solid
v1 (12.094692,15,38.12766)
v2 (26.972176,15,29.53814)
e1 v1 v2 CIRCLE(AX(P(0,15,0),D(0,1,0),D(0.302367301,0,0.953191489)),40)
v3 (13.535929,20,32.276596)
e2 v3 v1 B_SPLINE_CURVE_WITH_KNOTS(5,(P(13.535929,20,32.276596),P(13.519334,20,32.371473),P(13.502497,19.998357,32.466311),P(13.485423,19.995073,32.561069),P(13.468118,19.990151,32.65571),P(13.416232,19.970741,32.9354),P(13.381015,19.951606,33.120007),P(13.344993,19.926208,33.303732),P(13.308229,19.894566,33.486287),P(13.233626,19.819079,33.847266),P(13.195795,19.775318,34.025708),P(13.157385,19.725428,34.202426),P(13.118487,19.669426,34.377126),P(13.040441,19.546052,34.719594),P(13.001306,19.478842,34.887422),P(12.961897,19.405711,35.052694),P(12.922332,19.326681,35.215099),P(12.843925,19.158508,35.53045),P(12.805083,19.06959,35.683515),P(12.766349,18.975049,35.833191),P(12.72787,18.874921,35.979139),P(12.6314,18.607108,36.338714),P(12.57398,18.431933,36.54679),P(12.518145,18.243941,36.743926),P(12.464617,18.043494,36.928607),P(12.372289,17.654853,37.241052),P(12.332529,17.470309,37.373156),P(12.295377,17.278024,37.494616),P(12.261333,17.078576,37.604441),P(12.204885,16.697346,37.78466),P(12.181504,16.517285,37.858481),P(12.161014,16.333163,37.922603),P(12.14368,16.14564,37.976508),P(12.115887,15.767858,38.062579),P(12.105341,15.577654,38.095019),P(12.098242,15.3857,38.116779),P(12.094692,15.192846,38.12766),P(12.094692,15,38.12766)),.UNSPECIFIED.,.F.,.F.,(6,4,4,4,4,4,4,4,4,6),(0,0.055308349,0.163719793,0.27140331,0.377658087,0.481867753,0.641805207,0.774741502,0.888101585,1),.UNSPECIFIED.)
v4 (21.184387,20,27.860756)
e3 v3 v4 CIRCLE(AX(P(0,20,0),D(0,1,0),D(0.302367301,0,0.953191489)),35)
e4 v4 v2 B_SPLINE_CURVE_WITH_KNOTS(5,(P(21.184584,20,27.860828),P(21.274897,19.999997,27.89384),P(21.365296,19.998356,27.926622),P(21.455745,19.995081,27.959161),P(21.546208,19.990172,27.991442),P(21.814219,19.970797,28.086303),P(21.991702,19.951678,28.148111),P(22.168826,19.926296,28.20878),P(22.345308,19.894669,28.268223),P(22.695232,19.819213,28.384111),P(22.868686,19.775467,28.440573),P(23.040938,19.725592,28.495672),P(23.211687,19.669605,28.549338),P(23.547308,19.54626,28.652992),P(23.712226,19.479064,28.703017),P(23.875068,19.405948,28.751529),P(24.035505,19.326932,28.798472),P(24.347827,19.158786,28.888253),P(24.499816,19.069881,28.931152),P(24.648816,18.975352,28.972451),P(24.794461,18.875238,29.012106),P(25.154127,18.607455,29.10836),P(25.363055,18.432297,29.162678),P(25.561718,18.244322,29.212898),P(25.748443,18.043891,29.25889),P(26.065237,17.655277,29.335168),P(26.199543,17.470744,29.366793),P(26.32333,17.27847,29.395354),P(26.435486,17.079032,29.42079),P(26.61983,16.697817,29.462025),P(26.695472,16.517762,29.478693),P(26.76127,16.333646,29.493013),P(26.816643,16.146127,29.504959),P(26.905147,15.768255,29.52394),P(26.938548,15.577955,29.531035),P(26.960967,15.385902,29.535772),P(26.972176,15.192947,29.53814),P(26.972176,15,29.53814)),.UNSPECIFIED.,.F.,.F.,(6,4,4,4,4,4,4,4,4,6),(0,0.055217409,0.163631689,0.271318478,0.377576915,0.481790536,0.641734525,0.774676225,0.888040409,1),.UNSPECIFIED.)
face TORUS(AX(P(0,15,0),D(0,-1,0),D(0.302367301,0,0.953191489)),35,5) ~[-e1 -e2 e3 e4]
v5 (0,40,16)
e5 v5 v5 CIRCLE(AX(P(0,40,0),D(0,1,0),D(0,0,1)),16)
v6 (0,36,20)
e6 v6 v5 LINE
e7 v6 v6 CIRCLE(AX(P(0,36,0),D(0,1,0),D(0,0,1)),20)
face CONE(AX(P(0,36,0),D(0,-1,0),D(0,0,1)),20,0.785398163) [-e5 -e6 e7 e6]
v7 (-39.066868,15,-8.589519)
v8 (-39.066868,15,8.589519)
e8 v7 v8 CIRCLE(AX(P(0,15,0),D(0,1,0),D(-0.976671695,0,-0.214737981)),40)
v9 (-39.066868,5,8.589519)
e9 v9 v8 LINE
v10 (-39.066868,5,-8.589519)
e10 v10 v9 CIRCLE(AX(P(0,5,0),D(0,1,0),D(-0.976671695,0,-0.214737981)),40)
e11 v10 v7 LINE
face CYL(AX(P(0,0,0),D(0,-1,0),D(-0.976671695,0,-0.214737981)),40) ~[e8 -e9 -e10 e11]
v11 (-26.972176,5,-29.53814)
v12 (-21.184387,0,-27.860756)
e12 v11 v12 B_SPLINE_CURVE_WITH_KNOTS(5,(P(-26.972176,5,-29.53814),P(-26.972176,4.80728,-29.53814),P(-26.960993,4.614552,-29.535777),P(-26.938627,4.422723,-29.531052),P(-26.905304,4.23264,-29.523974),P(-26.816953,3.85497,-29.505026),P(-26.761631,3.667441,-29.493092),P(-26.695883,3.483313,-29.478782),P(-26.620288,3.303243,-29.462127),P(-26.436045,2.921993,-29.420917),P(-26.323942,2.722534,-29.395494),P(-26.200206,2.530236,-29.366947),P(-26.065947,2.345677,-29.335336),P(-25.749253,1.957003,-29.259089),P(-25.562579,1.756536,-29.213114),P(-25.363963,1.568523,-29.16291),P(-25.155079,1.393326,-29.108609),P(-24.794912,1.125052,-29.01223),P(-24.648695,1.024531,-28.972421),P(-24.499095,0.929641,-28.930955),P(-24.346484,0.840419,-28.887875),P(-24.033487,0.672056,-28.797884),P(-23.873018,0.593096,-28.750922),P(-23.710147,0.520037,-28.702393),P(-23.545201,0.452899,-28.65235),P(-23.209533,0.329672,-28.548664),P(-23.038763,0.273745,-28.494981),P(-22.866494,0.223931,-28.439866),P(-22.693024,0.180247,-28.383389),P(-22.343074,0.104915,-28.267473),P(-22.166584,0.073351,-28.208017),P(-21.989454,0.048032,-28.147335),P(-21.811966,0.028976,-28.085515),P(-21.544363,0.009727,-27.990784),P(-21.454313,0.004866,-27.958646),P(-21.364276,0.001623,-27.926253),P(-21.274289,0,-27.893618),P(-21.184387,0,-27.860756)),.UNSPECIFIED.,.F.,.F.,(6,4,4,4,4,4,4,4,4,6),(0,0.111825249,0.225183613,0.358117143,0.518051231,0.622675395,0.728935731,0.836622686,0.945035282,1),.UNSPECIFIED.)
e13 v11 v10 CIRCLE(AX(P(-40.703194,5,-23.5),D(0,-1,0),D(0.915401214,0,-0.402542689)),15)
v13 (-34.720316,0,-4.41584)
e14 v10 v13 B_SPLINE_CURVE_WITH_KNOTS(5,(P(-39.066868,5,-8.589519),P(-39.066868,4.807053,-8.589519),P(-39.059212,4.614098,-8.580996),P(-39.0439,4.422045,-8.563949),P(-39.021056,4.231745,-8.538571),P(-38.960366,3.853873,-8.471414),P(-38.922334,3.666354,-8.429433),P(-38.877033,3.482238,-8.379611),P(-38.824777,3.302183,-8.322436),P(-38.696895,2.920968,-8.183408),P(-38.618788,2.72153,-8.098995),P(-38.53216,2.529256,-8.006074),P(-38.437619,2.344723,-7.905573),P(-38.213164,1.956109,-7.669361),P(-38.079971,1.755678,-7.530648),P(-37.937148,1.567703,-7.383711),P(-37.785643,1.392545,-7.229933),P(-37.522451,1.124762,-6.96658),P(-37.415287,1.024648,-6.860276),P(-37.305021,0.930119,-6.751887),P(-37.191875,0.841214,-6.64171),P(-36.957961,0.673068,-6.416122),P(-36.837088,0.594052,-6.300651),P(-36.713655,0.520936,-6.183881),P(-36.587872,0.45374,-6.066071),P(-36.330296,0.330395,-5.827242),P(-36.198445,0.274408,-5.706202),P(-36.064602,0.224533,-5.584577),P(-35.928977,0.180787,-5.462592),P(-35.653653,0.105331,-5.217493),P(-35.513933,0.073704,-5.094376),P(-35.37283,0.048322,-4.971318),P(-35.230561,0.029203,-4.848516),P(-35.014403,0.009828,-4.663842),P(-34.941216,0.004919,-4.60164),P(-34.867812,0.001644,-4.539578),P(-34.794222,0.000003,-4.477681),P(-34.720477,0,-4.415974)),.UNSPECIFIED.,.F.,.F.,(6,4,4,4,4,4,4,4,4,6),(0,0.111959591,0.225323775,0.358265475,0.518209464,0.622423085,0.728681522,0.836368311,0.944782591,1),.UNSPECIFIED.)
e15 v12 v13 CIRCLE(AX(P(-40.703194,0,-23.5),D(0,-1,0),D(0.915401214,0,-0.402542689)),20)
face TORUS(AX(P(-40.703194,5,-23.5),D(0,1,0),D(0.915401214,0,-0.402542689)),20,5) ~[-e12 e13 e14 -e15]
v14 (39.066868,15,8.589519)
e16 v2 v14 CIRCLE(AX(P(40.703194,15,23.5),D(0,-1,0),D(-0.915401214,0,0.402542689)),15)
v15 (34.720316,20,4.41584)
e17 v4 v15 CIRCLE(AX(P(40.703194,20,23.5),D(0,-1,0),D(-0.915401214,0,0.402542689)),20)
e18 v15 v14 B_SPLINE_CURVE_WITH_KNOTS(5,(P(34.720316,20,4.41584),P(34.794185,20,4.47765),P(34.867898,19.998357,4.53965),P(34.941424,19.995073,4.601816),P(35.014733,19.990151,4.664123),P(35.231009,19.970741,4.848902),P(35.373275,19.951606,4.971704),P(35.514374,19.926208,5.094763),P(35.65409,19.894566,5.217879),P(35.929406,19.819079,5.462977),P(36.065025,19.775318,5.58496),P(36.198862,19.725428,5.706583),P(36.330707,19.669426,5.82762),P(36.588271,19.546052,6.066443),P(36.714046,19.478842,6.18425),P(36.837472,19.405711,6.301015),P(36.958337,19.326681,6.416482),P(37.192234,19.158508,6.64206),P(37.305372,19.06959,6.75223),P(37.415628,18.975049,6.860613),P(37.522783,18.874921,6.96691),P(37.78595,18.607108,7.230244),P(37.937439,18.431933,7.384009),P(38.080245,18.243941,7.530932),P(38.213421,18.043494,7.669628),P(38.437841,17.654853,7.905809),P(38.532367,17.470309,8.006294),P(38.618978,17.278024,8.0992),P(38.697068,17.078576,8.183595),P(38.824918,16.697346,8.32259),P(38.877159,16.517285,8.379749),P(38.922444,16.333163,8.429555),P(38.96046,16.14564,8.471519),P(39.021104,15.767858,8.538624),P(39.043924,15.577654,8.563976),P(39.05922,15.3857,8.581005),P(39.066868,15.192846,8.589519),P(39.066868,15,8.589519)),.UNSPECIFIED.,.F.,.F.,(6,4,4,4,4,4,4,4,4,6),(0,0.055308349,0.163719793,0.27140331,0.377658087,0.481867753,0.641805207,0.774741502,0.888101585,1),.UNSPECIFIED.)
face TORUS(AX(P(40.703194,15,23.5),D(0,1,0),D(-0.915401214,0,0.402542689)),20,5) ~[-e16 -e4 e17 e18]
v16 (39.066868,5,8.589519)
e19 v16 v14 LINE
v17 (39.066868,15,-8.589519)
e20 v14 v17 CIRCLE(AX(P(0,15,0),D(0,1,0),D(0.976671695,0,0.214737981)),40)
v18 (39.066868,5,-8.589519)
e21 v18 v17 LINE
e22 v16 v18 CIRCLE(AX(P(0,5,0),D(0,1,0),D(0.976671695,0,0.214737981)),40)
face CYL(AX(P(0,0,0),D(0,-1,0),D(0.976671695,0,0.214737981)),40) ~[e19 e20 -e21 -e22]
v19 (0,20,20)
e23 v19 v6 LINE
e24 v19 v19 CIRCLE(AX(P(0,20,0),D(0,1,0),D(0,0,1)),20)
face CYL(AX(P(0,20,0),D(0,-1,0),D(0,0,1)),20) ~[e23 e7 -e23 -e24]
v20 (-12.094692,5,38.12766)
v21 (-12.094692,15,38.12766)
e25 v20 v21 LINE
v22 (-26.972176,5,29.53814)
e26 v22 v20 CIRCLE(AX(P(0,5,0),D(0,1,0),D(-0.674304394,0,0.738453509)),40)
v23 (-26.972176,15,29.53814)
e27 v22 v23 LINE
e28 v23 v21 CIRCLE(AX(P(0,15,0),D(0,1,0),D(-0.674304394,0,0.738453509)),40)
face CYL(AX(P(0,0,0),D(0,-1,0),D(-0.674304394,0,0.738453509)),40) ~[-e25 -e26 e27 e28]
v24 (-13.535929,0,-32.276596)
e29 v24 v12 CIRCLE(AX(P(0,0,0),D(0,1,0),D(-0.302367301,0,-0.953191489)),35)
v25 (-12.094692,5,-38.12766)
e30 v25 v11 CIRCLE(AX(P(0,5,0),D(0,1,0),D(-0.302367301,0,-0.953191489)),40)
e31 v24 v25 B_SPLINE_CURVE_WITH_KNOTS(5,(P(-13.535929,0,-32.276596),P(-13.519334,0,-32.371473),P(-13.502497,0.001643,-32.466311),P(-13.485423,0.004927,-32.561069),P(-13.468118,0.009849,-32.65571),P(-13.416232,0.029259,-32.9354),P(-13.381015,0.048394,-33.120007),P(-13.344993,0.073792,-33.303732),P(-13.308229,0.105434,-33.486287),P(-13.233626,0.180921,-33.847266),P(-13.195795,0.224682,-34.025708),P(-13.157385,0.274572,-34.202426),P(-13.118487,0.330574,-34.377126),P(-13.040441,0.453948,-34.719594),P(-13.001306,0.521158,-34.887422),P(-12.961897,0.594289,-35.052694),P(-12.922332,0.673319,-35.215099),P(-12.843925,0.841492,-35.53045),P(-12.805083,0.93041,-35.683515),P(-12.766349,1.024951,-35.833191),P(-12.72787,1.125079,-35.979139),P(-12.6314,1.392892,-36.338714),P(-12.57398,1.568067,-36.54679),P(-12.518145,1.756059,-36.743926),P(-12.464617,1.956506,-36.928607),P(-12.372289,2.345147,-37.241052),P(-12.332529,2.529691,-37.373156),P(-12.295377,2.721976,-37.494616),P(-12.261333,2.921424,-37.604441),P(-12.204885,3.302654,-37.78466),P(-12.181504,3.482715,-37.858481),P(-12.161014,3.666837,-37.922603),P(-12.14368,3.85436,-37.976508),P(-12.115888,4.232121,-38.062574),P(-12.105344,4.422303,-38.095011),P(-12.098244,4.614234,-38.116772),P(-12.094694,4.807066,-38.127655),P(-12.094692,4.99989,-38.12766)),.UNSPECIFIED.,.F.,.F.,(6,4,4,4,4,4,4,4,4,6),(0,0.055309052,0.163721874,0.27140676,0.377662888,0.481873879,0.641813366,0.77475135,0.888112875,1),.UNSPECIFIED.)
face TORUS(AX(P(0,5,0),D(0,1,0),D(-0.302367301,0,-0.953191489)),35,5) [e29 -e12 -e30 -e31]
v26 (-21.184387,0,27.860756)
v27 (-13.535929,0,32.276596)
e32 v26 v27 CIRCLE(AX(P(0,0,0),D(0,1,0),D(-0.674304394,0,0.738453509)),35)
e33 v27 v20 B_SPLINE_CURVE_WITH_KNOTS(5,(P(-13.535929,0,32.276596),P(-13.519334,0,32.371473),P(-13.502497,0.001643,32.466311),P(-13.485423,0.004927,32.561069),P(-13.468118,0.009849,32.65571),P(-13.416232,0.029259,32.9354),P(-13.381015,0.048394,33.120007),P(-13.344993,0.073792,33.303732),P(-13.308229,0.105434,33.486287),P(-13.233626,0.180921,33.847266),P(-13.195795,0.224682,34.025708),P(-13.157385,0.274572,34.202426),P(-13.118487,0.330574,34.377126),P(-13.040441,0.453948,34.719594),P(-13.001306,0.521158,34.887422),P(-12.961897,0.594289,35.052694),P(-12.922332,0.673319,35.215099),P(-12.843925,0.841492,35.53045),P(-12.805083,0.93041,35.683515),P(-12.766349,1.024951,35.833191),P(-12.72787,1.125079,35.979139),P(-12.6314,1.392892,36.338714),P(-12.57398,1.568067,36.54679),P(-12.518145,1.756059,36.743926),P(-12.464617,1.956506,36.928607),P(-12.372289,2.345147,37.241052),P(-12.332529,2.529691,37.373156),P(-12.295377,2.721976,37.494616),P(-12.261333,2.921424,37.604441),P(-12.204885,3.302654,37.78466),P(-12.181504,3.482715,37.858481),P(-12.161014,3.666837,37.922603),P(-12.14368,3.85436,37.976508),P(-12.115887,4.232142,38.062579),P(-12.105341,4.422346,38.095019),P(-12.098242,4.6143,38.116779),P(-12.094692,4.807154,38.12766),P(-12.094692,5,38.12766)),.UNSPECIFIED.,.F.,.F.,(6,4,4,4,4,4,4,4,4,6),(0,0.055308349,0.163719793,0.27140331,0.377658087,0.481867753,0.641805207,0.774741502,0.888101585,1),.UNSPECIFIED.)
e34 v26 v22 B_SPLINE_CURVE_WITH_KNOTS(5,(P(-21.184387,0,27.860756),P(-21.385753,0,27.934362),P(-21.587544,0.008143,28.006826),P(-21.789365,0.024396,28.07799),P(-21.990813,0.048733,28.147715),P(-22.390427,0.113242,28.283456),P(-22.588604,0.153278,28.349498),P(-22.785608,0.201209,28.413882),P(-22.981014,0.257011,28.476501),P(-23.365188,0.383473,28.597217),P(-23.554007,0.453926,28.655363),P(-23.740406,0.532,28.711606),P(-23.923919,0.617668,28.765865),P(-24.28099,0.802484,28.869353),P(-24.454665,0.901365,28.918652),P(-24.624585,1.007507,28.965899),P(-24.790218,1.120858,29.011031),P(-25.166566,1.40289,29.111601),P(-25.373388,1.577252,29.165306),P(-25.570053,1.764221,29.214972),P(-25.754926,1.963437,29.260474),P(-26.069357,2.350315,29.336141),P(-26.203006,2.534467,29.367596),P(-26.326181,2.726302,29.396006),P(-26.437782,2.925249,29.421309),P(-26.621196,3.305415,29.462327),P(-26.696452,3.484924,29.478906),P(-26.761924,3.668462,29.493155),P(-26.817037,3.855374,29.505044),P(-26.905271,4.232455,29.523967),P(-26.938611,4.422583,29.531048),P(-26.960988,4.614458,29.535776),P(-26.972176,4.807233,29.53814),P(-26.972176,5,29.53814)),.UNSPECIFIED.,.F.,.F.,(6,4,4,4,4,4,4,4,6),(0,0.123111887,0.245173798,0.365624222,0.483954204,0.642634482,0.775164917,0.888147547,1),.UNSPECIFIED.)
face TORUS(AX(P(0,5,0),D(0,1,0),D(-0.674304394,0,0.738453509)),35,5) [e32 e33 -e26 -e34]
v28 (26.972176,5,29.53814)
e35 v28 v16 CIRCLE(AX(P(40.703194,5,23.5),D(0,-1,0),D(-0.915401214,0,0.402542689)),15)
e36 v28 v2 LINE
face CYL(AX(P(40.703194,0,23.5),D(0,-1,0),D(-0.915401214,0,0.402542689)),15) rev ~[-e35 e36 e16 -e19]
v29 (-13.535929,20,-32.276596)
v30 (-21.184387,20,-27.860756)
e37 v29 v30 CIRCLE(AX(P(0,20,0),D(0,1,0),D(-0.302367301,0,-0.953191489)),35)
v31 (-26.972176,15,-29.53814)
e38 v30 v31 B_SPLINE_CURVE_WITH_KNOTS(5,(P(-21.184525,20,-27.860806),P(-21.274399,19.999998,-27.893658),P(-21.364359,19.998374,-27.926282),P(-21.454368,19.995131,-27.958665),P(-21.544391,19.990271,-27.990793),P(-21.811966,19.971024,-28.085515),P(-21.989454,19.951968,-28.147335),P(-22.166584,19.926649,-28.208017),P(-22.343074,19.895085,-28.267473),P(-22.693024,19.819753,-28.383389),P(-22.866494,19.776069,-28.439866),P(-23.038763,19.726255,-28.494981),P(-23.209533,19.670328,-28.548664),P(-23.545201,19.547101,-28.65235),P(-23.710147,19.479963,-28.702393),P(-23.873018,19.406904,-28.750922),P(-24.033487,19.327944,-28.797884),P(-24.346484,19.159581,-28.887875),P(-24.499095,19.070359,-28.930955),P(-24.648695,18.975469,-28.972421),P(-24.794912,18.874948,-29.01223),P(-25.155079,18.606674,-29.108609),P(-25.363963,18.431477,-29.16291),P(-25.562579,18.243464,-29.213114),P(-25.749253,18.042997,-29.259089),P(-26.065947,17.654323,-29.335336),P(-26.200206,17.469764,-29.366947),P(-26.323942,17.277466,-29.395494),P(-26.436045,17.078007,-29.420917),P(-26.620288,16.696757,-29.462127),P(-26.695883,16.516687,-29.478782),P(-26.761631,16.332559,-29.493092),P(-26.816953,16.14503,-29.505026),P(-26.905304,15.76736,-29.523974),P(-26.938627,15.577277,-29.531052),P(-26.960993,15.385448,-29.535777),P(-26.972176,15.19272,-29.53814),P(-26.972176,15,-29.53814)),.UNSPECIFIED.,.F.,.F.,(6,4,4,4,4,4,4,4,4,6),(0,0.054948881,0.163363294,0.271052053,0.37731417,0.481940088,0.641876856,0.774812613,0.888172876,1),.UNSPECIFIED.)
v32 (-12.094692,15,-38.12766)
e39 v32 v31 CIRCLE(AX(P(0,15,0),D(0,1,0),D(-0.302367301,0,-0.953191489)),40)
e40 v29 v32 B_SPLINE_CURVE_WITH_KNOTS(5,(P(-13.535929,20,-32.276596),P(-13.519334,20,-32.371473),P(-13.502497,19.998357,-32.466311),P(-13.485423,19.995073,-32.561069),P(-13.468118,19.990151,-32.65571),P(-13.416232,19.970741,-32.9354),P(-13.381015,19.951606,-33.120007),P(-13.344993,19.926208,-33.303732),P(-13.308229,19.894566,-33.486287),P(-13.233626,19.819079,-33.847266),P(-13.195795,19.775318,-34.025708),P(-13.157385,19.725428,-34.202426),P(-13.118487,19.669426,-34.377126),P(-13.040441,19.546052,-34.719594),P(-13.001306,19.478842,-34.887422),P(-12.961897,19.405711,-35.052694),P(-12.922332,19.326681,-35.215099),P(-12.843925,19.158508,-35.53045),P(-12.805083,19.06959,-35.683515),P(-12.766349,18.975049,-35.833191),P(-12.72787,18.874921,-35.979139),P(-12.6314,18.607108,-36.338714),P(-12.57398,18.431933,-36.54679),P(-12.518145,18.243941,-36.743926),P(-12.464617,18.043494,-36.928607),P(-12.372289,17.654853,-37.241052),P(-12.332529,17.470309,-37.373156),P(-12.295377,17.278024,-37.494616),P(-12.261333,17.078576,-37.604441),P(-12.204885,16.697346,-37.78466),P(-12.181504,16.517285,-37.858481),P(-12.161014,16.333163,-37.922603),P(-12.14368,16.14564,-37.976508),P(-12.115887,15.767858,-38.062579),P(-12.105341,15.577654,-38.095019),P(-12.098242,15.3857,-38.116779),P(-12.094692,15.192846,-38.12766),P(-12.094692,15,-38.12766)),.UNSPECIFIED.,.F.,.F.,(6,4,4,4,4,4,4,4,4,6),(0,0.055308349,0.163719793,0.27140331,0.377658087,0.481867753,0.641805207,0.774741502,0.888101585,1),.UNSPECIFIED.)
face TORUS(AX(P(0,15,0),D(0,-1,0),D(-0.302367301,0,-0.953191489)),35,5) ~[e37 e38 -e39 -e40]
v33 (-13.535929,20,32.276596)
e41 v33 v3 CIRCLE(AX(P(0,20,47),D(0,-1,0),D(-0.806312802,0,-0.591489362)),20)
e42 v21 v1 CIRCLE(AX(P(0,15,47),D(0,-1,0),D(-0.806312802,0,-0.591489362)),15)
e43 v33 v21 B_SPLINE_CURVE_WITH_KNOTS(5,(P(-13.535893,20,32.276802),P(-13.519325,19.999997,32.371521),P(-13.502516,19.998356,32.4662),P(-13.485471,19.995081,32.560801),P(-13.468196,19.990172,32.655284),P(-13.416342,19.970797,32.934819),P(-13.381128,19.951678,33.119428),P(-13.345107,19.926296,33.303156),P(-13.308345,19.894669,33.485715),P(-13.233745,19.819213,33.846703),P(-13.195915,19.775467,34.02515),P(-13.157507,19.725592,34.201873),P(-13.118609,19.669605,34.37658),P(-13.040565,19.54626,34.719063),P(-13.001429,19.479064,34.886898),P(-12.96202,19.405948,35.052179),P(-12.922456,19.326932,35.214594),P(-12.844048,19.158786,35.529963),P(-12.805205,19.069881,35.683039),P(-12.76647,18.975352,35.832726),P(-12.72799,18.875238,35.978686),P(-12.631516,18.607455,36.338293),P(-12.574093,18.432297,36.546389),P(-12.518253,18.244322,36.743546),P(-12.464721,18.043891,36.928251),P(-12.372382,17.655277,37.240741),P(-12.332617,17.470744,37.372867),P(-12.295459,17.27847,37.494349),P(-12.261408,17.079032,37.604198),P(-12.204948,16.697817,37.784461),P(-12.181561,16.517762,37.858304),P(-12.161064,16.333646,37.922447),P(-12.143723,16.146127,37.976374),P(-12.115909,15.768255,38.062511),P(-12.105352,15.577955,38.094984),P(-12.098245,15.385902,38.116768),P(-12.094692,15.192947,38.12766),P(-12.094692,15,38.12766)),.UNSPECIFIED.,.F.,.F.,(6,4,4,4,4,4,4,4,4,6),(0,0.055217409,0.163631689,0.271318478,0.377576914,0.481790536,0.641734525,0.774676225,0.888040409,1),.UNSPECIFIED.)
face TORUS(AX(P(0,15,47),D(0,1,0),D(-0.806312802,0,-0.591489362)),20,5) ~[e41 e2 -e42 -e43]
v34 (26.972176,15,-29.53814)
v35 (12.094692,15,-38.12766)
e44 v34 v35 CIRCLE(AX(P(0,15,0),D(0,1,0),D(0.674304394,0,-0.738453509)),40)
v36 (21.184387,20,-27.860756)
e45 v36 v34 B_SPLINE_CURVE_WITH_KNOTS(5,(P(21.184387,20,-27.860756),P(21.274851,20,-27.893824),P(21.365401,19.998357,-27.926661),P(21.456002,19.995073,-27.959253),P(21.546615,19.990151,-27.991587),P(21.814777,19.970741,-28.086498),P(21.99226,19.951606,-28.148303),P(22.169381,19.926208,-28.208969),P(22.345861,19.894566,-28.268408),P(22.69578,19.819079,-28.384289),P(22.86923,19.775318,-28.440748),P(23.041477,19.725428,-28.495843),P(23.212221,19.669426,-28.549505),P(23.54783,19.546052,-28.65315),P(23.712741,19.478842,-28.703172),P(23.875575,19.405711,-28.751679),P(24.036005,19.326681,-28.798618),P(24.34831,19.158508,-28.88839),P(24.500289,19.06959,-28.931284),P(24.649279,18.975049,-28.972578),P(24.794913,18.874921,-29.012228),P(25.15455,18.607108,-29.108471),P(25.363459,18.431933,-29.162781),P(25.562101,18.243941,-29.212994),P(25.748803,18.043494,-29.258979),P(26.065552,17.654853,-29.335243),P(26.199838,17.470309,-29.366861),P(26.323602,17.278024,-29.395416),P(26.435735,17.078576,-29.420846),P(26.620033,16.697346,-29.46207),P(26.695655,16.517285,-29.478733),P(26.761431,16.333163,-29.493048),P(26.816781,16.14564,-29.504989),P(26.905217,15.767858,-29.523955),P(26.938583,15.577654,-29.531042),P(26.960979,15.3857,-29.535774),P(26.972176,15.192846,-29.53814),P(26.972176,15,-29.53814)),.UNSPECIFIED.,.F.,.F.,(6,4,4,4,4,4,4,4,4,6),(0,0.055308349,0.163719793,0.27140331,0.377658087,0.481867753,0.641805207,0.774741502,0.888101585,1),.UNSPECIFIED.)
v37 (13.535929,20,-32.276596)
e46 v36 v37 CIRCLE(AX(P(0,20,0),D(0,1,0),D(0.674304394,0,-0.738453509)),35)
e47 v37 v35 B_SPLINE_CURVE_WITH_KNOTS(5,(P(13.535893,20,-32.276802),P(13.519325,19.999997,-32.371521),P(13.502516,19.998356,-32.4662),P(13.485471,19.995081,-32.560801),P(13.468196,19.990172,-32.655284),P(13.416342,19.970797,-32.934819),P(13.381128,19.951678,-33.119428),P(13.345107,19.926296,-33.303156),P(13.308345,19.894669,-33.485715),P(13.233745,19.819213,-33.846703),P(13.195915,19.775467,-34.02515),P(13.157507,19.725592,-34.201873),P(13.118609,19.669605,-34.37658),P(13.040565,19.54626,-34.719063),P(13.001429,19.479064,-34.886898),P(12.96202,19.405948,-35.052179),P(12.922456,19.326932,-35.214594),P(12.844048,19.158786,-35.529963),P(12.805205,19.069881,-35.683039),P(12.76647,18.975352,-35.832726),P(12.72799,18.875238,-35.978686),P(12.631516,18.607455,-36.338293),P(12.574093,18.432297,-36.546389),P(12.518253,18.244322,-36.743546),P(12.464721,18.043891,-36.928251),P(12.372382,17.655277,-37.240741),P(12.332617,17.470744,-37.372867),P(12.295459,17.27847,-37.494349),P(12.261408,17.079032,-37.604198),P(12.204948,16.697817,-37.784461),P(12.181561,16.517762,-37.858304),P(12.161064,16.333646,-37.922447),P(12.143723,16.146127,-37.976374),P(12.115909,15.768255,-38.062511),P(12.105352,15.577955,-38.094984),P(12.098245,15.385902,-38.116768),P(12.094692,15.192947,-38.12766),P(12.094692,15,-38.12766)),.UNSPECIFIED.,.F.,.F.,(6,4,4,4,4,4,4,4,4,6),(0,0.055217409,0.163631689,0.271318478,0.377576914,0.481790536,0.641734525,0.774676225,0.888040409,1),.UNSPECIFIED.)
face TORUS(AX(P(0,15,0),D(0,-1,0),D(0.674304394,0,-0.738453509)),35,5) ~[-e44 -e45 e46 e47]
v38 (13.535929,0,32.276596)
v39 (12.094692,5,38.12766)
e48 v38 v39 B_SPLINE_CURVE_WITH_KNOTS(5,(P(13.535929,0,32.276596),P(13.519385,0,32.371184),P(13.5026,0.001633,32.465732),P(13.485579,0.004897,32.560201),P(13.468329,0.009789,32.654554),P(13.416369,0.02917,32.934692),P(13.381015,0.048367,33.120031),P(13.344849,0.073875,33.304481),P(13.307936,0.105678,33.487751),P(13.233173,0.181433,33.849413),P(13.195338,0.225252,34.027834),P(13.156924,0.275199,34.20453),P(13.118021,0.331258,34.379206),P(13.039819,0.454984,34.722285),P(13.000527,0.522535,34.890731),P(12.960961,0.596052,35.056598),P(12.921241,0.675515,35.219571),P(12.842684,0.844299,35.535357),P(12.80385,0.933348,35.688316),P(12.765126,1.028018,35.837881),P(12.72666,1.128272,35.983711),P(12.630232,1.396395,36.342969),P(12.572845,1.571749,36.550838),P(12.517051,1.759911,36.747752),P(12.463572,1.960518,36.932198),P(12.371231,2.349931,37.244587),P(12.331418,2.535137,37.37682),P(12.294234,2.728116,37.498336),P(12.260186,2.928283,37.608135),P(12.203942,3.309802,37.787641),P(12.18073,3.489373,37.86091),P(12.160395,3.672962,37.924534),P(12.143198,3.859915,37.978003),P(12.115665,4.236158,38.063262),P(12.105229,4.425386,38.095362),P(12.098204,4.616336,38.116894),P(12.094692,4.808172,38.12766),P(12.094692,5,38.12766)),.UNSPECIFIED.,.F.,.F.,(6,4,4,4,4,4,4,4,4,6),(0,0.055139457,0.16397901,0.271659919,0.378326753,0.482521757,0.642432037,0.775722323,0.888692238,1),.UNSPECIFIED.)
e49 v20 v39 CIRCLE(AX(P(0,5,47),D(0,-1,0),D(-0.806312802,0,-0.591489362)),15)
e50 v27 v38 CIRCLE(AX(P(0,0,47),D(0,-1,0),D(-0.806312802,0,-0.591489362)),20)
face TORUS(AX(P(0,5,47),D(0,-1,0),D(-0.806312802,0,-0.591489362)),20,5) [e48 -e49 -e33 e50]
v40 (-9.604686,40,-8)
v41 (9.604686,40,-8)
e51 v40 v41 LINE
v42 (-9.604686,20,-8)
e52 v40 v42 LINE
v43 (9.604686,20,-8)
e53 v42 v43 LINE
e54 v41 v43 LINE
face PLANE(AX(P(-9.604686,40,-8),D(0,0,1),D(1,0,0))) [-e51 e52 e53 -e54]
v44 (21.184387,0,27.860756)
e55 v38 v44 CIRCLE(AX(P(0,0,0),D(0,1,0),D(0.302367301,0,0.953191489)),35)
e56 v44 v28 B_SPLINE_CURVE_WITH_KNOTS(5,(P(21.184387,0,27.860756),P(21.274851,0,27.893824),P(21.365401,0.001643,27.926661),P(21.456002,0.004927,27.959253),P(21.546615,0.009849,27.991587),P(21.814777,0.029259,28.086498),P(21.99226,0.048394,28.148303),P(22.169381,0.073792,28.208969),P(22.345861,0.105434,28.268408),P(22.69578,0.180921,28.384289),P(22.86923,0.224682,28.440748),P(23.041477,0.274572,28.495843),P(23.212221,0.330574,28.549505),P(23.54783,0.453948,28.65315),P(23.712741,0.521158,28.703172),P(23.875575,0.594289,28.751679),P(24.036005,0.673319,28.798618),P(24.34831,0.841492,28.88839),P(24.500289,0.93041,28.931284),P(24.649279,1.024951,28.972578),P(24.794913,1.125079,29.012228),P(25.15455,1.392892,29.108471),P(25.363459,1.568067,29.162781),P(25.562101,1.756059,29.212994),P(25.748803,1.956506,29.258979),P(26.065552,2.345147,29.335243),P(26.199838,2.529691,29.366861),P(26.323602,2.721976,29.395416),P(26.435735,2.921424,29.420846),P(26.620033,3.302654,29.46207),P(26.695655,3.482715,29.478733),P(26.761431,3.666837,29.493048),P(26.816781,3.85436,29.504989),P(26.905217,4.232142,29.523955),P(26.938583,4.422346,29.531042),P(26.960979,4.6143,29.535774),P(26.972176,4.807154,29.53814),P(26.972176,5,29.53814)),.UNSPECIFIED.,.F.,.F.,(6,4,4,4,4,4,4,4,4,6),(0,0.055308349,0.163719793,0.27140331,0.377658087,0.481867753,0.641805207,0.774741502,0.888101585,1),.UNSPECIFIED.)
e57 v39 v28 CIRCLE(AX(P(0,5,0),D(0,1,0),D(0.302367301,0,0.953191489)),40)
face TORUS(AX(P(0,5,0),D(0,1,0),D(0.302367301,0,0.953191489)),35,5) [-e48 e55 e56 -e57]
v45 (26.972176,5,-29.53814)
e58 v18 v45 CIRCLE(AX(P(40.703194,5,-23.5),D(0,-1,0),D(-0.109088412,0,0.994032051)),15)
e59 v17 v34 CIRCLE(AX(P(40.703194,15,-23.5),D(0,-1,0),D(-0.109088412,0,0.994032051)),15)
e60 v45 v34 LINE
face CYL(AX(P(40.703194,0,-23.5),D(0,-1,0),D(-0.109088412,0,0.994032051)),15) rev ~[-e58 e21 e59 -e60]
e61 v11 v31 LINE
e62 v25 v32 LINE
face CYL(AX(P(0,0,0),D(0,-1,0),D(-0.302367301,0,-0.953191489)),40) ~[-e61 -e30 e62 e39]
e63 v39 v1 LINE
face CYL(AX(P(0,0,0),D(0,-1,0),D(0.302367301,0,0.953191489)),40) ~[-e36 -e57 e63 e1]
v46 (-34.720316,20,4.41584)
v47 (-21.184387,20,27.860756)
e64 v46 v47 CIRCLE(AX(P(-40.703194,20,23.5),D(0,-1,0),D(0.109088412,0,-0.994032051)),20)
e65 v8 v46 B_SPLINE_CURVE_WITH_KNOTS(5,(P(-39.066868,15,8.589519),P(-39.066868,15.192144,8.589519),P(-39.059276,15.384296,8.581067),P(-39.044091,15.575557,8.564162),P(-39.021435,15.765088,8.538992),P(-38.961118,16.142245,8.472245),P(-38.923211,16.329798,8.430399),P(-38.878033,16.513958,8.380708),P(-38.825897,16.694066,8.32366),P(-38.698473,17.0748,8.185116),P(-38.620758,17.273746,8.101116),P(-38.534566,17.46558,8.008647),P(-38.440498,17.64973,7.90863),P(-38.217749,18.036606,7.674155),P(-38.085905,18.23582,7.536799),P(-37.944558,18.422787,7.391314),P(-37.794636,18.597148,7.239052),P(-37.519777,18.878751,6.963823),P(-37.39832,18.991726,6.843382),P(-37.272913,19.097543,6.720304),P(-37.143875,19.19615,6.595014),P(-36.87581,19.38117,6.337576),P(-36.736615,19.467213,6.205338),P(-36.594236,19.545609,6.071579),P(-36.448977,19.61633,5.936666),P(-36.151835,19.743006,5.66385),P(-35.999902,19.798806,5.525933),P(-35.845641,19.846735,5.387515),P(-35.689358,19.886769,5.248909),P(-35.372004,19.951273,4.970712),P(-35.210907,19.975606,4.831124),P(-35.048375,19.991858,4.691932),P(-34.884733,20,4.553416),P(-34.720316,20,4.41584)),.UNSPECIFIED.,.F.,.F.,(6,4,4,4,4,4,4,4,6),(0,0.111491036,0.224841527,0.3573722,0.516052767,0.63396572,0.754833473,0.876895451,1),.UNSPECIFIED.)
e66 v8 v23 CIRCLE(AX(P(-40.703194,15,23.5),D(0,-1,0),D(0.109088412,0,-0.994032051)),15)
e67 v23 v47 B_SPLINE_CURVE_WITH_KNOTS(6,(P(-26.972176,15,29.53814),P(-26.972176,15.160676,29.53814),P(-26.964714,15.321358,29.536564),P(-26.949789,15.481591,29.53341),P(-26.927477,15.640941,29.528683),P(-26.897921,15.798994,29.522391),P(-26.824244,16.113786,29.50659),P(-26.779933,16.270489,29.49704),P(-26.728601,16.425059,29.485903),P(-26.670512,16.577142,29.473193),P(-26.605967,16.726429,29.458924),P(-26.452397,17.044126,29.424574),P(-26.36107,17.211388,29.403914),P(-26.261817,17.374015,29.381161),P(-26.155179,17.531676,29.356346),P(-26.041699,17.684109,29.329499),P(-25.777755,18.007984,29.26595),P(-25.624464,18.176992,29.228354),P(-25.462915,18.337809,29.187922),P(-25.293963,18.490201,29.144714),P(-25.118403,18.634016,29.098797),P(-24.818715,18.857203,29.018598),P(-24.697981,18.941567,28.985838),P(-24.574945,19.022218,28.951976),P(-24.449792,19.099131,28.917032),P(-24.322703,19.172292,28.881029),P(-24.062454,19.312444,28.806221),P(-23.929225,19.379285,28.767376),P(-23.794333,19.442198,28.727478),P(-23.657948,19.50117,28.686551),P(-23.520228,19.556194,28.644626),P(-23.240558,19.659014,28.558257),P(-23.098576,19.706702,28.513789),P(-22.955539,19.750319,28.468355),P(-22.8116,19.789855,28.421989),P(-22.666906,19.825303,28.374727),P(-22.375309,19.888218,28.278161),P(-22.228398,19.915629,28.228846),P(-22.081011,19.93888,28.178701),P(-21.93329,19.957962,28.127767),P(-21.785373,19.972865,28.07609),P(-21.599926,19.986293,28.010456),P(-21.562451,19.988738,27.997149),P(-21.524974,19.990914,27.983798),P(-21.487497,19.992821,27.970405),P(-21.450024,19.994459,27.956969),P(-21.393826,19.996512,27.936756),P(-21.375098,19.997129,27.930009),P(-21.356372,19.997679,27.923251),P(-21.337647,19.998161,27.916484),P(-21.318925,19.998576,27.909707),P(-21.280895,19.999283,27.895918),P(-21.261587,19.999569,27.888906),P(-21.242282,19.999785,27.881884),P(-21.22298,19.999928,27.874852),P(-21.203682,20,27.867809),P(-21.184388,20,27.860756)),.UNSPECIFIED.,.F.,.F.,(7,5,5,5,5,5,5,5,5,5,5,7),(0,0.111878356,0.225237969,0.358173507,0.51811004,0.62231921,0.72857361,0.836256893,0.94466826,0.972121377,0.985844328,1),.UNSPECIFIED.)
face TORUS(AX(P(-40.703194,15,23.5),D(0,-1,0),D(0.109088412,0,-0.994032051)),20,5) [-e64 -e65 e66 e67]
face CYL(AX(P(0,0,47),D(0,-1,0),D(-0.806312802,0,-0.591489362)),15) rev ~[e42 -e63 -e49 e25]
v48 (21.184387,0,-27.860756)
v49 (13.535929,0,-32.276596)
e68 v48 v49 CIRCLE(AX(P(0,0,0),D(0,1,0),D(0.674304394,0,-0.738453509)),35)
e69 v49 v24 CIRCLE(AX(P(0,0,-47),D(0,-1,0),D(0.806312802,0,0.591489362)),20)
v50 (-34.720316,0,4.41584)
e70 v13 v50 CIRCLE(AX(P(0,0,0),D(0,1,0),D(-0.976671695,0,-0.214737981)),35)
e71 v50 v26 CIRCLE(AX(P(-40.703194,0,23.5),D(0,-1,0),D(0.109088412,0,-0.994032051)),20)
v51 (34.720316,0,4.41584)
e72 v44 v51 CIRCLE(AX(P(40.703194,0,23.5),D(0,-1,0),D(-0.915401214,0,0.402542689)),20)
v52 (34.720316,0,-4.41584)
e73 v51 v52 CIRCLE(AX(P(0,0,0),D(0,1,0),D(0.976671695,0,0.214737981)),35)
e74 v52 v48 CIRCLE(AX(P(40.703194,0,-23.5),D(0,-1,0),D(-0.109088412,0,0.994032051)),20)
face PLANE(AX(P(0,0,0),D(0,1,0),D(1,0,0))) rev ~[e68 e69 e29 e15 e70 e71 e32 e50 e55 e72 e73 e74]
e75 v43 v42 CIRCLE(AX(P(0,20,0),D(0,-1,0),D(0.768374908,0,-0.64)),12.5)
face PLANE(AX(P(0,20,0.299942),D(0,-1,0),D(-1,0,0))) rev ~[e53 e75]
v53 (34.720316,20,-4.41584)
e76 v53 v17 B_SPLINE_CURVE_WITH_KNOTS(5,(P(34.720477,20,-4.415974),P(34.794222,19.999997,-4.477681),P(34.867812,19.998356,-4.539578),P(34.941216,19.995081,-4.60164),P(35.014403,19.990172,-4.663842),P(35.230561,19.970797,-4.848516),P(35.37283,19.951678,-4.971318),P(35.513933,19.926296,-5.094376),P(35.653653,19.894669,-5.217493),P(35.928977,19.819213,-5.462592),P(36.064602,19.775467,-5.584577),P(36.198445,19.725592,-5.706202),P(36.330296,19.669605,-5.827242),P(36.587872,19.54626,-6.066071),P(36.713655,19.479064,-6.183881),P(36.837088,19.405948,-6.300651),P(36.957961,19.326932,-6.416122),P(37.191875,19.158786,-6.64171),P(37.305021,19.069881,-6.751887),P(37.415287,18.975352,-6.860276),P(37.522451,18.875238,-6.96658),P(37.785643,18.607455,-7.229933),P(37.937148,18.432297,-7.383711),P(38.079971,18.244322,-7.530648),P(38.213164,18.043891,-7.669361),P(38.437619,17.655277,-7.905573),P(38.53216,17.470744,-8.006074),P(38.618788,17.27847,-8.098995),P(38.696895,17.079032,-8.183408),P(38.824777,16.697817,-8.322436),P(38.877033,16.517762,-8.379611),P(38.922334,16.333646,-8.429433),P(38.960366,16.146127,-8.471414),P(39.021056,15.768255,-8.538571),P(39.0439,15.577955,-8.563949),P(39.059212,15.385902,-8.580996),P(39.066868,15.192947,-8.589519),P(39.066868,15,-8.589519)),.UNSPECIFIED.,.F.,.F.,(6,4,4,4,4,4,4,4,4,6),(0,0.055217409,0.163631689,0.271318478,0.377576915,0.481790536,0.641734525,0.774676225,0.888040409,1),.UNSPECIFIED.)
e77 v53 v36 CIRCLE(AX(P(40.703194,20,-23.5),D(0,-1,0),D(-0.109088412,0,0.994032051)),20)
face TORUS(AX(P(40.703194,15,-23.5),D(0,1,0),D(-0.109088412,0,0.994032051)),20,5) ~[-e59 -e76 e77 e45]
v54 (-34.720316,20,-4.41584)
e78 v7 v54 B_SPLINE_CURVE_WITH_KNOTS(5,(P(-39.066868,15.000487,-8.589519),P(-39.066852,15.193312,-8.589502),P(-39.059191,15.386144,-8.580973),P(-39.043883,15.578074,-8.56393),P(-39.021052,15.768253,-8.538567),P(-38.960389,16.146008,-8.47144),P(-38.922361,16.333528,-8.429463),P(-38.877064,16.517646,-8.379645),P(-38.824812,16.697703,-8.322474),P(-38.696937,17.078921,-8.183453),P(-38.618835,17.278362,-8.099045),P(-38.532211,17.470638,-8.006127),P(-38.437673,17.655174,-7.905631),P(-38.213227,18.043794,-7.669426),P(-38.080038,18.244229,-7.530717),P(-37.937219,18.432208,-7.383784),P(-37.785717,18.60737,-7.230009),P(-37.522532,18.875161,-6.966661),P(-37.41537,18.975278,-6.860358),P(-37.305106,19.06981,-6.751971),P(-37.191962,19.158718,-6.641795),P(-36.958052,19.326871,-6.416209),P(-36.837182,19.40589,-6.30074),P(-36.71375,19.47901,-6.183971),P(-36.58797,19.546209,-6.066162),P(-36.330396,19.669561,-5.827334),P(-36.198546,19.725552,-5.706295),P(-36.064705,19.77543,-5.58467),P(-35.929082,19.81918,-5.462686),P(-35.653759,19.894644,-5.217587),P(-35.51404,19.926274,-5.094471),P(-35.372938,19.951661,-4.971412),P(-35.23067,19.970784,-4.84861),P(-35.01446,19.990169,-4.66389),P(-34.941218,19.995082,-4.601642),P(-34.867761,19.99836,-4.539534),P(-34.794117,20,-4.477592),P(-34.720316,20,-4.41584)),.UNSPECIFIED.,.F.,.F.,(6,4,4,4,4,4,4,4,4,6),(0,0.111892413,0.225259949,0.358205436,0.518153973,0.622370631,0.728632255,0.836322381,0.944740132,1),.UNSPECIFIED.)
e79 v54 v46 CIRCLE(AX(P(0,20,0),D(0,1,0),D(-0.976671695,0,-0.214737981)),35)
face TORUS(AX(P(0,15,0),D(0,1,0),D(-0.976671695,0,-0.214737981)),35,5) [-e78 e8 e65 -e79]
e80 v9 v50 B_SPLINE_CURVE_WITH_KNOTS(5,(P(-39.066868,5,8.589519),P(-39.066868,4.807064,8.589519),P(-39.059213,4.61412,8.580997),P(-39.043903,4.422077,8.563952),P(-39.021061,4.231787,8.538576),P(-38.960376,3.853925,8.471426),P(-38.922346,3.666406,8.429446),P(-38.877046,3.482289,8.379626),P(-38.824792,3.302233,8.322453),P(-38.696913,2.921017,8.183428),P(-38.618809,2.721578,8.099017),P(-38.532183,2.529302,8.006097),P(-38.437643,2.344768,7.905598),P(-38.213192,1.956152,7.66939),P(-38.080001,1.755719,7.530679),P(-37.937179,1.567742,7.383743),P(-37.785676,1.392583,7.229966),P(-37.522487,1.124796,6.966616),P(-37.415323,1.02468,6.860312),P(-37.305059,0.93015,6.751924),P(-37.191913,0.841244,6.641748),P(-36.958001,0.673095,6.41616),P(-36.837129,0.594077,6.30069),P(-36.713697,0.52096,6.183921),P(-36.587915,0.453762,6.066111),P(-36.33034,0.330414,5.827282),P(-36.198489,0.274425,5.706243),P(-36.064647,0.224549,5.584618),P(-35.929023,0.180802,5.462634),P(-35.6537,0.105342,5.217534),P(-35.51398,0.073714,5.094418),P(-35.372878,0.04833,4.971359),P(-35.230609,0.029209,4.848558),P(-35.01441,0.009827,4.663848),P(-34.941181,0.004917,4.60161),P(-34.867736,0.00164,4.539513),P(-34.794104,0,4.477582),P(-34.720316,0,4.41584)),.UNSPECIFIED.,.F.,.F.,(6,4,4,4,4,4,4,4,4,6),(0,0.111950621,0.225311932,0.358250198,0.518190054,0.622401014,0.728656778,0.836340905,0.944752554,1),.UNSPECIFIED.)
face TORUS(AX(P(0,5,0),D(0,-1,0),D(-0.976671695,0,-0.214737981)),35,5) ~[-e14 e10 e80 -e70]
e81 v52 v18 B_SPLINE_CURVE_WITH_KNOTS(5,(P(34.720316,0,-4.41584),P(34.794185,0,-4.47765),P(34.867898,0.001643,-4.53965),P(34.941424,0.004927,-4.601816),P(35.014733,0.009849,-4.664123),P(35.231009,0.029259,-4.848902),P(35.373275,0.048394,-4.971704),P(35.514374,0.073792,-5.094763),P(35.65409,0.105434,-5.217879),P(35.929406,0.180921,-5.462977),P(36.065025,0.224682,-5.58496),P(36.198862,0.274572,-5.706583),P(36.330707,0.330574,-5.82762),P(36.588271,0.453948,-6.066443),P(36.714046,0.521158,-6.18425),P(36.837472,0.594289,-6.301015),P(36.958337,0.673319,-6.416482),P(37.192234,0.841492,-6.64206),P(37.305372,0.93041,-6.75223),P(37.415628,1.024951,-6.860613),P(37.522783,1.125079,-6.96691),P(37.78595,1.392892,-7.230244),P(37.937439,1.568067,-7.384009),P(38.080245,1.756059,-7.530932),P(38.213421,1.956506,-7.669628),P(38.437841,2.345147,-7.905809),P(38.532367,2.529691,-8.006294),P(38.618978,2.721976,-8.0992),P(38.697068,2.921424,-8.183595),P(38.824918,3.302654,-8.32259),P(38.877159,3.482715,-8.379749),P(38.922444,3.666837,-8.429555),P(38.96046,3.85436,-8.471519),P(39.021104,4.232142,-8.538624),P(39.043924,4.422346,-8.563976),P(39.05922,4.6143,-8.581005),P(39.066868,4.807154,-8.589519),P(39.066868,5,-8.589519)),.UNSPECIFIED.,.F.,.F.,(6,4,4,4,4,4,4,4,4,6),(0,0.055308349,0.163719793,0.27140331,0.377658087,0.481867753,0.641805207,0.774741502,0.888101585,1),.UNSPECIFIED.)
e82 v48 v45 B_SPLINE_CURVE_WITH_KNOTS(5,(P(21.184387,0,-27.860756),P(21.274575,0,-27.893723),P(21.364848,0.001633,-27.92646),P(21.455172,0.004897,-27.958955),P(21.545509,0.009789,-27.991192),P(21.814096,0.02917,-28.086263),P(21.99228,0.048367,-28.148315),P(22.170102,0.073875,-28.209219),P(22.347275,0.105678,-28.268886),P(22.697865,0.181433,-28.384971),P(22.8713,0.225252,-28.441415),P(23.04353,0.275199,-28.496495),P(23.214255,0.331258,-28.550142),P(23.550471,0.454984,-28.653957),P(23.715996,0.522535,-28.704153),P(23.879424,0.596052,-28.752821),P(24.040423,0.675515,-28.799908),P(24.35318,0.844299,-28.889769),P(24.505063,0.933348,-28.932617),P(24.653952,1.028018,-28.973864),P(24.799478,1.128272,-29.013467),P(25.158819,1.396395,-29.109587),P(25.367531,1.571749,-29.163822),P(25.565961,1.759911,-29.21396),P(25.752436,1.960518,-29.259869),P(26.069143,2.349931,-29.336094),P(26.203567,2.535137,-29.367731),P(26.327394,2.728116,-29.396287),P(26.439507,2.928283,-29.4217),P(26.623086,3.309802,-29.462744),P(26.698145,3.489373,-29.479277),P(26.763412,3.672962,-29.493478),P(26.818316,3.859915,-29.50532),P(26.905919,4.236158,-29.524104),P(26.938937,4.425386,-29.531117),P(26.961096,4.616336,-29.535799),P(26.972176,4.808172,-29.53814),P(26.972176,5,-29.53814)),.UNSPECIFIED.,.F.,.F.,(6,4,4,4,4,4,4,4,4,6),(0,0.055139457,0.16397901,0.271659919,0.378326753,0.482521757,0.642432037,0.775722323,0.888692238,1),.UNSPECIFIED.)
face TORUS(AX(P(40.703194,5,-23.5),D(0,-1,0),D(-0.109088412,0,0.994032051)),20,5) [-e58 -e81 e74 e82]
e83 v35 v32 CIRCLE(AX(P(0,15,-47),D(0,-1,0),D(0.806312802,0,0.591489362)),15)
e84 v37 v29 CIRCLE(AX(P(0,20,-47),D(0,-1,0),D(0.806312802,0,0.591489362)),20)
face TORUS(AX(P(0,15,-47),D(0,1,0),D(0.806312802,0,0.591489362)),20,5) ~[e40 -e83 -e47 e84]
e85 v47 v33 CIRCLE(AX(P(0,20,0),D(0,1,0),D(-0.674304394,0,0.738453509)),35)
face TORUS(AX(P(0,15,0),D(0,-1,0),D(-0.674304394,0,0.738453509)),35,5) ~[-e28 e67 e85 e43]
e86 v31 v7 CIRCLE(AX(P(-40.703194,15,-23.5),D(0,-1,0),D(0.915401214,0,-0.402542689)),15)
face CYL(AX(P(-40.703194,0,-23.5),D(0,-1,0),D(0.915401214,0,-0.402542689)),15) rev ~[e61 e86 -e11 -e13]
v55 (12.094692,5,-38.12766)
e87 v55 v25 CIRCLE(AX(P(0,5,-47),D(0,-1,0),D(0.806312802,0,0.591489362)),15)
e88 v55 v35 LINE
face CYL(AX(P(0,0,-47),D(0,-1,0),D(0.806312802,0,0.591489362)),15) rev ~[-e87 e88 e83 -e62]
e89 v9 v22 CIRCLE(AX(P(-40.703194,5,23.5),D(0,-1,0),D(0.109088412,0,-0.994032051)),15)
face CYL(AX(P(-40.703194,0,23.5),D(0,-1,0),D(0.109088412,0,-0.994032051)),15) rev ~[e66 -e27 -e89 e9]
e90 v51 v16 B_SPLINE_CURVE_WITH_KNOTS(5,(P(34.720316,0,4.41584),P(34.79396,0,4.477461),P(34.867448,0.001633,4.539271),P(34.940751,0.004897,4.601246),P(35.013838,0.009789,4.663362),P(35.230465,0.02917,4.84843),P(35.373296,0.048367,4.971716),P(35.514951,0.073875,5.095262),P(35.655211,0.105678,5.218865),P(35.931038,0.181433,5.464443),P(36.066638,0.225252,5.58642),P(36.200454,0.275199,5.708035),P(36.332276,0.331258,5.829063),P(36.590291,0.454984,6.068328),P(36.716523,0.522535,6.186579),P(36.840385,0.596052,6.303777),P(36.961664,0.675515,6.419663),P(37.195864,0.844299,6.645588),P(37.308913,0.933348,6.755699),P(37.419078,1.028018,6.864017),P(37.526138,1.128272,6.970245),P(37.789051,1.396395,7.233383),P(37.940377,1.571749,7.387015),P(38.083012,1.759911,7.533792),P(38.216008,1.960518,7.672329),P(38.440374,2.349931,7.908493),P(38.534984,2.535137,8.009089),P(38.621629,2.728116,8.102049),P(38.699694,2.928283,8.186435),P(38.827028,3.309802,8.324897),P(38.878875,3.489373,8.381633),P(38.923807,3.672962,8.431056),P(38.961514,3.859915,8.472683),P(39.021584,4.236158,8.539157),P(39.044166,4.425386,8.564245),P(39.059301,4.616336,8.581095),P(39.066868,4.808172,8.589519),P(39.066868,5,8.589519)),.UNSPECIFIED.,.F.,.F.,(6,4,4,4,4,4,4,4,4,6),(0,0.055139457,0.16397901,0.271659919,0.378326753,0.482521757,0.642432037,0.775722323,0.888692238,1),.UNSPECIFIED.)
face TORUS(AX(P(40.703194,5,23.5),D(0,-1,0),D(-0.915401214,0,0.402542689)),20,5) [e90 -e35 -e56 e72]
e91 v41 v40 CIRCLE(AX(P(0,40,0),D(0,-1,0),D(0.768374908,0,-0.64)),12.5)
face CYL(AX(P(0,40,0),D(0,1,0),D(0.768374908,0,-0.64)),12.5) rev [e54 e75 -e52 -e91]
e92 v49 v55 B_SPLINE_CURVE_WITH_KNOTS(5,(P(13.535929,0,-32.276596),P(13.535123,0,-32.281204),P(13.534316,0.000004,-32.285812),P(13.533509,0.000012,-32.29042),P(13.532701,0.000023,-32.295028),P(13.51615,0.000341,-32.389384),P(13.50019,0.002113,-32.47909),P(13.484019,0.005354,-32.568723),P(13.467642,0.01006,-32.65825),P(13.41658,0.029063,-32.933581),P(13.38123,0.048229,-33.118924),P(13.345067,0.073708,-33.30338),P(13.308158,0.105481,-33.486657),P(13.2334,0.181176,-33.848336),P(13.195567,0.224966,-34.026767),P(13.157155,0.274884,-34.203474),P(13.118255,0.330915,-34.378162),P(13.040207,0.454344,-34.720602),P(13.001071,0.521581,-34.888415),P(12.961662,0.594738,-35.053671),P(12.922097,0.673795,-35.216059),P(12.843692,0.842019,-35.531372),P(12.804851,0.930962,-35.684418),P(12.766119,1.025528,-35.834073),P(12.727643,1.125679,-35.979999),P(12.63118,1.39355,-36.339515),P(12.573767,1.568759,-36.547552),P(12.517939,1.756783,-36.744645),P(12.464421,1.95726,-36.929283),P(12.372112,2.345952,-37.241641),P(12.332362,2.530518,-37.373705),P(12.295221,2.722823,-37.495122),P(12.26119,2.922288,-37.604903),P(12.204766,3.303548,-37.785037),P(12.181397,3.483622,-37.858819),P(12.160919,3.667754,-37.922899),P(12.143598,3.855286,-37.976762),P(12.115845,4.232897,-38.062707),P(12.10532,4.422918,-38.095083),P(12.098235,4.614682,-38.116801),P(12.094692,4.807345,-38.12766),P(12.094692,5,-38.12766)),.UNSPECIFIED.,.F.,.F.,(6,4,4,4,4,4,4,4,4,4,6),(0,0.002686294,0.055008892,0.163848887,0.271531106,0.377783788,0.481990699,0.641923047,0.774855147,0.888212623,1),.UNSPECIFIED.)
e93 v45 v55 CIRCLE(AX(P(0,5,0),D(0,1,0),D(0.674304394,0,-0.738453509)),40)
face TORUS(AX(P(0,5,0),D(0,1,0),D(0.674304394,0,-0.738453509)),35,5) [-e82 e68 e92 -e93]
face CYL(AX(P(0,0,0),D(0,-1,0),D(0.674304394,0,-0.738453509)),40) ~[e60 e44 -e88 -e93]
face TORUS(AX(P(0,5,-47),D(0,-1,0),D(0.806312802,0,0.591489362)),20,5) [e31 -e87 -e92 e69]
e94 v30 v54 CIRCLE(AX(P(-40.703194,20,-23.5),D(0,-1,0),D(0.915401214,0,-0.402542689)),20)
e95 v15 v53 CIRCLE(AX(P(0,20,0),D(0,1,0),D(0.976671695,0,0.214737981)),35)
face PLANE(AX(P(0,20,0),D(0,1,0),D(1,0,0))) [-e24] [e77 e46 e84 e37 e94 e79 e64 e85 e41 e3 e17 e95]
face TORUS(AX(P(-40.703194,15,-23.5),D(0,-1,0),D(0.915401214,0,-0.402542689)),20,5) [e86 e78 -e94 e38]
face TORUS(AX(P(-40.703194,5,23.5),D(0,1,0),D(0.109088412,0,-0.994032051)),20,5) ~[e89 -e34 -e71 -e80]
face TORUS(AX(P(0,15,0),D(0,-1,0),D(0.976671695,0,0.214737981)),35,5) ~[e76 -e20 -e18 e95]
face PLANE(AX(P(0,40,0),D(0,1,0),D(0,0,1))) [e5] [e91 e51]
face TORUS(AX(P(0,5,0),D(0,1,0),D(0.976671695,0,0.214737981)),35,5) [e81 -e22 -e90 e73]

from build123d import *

# Parameters (mm, degrees)
BOSS_EXTRUDE1_DEPTH = 20
SKETCH4_R           = 20
BOSS_EXTRUDE2_DEPTH = 20
CUT_EXTRUDE1_DEPTH  = 20
FILLET1_R           = 5
CHAMFER1_SIZE       = 4


with BuildPart() as part:
    # Sketch3 → Boss-Extrude1 (new body)
    with BuildSketch(Plane(origin=(0, 0, 0), x_dir=(1, 0, 0), z_dir=(0, 1, 0))):
        with BuildLine():
            ThreePointArc((-39.066867795, 8.589519236), (-40, 0), (-39.066867795, -8.589519236))
            ThreePointArc((-39.066867795, -8.589519236), (-27.712812921, -16), (-26.972175762, -29.538140339))
            ThreePointArc((-26.972175762, -29.538140339), (-20, -34.641016151), (-12.094692033, -38.127659574))
            ThreePointArc((-12.094692033, -38.127659574), (0, -32), (12.094692033, -38.127659574))
            ThreePointArc((12.094692033, -38.127659574), (20, -34.641016151), (26.972175762, -29.538140339))
            ThreePointArc((26.972175762, -29.538140339), (27.712812921, -16), (39.066867795, -8.589519236))
            ThreePointArc((39.066867795, -8.589519236), (40, 0), (39.066867795, 8.589519236))
            ThreePointArc((39.066867795, 8.589519236), (27.712812921, 16), (26.972175762, 29.538140339))
            ThreePointArc((26.972175762, 29.538140339), (20, 34.641016151), (12.094692033, 38.127659574))
            ThreePointArc((12.094692033, 38.127659574), (0, 32), (-12.094692033, 38.127659574))
            ThreePointArc((-12.094692033, 38.127659574), (-20, 34.641016151), (-26.972175762, 29.538140339))
            ThreePointArc((-26.972175762, 29.538140339), (-27.712812921, 16), (-39.066867795, 8.589519236))
        make_face()
    extrude(amount=BOSS_EXTRUDE1_DEPTH)

    # Sketch4 → Boss-Extrude2 (add)
    with BuildSketch(Plane(origin=(0, 20, 0), x_dir=(1, 0, 0), z_dir=(0, 1, 0))):
        with Locations(Location((0, 0, 0), (0, 0, 270))):
            Circle(SKETCH4_R)
    extrude(amount=BOSS_EXTRUDE2_DEPTH)

    # Sketch5 → Cut-Extrude1 (cut)
    with BuildSketch(Plane(origin=(0, 40, 0), x_dir=(1, 0, 0), z_dir=(0, 1, 0))):
        with BuildLine():
            Line((-9.604686356, 8), (9.604686356, 8))
            ThreePointArc((9.604686356, 8), (0, -12.5), (-9.604686356, 8))
        make_face()
    extrude(amount=-CUT_EXTRUDE1_DEPTH, mode=Mode.SUBTRACT)

    # Fillet1
    fillet1_edges = [part.edges().sort_by_distance(p)[0] for p in [
        (0, 0, -32),
        (20, 0, -34.641016151),
        (-40, 20, 0),
        (27.712812921, 0, -16),
        (40, 0, 0),
        (27.712812921, 0, 16),
        (20, 0, 34.641016151),
        (0, 0, 32),
        (-20, 0, 34.641016151),
        (-27.712812921, 0, 16),
        (-40, 0, 0),
        (-27.712812921, 0, -16),
        (-20, 0, -34.641016151),
        (-27.712812921, 20, 16),
        (-20, 20, 34.641016151),
        (0, 20, 32),
        (20, 20, 34.641016151),
        (27.712812921, 20, 16),
        (40, 20, 0),
        (27.712812921, 20, -16),
        (20, 20, -34.641016151),
        (0, 20, -32),
        (-20, 20, -34.641016151),
        (-27.712812921, 20, -16),
    ]]
    fillet(fillet1_edges, radius=FILLET1_R)

    # Chamfer1
    chamfer1_edges = [part.edges().sort_by_distance(p)[0] for p in [
        (0, 40, -20),
    ]]
    chamfer(chamfer1_edges, length=CHAMFER1_SIZE)


solid = part.part
